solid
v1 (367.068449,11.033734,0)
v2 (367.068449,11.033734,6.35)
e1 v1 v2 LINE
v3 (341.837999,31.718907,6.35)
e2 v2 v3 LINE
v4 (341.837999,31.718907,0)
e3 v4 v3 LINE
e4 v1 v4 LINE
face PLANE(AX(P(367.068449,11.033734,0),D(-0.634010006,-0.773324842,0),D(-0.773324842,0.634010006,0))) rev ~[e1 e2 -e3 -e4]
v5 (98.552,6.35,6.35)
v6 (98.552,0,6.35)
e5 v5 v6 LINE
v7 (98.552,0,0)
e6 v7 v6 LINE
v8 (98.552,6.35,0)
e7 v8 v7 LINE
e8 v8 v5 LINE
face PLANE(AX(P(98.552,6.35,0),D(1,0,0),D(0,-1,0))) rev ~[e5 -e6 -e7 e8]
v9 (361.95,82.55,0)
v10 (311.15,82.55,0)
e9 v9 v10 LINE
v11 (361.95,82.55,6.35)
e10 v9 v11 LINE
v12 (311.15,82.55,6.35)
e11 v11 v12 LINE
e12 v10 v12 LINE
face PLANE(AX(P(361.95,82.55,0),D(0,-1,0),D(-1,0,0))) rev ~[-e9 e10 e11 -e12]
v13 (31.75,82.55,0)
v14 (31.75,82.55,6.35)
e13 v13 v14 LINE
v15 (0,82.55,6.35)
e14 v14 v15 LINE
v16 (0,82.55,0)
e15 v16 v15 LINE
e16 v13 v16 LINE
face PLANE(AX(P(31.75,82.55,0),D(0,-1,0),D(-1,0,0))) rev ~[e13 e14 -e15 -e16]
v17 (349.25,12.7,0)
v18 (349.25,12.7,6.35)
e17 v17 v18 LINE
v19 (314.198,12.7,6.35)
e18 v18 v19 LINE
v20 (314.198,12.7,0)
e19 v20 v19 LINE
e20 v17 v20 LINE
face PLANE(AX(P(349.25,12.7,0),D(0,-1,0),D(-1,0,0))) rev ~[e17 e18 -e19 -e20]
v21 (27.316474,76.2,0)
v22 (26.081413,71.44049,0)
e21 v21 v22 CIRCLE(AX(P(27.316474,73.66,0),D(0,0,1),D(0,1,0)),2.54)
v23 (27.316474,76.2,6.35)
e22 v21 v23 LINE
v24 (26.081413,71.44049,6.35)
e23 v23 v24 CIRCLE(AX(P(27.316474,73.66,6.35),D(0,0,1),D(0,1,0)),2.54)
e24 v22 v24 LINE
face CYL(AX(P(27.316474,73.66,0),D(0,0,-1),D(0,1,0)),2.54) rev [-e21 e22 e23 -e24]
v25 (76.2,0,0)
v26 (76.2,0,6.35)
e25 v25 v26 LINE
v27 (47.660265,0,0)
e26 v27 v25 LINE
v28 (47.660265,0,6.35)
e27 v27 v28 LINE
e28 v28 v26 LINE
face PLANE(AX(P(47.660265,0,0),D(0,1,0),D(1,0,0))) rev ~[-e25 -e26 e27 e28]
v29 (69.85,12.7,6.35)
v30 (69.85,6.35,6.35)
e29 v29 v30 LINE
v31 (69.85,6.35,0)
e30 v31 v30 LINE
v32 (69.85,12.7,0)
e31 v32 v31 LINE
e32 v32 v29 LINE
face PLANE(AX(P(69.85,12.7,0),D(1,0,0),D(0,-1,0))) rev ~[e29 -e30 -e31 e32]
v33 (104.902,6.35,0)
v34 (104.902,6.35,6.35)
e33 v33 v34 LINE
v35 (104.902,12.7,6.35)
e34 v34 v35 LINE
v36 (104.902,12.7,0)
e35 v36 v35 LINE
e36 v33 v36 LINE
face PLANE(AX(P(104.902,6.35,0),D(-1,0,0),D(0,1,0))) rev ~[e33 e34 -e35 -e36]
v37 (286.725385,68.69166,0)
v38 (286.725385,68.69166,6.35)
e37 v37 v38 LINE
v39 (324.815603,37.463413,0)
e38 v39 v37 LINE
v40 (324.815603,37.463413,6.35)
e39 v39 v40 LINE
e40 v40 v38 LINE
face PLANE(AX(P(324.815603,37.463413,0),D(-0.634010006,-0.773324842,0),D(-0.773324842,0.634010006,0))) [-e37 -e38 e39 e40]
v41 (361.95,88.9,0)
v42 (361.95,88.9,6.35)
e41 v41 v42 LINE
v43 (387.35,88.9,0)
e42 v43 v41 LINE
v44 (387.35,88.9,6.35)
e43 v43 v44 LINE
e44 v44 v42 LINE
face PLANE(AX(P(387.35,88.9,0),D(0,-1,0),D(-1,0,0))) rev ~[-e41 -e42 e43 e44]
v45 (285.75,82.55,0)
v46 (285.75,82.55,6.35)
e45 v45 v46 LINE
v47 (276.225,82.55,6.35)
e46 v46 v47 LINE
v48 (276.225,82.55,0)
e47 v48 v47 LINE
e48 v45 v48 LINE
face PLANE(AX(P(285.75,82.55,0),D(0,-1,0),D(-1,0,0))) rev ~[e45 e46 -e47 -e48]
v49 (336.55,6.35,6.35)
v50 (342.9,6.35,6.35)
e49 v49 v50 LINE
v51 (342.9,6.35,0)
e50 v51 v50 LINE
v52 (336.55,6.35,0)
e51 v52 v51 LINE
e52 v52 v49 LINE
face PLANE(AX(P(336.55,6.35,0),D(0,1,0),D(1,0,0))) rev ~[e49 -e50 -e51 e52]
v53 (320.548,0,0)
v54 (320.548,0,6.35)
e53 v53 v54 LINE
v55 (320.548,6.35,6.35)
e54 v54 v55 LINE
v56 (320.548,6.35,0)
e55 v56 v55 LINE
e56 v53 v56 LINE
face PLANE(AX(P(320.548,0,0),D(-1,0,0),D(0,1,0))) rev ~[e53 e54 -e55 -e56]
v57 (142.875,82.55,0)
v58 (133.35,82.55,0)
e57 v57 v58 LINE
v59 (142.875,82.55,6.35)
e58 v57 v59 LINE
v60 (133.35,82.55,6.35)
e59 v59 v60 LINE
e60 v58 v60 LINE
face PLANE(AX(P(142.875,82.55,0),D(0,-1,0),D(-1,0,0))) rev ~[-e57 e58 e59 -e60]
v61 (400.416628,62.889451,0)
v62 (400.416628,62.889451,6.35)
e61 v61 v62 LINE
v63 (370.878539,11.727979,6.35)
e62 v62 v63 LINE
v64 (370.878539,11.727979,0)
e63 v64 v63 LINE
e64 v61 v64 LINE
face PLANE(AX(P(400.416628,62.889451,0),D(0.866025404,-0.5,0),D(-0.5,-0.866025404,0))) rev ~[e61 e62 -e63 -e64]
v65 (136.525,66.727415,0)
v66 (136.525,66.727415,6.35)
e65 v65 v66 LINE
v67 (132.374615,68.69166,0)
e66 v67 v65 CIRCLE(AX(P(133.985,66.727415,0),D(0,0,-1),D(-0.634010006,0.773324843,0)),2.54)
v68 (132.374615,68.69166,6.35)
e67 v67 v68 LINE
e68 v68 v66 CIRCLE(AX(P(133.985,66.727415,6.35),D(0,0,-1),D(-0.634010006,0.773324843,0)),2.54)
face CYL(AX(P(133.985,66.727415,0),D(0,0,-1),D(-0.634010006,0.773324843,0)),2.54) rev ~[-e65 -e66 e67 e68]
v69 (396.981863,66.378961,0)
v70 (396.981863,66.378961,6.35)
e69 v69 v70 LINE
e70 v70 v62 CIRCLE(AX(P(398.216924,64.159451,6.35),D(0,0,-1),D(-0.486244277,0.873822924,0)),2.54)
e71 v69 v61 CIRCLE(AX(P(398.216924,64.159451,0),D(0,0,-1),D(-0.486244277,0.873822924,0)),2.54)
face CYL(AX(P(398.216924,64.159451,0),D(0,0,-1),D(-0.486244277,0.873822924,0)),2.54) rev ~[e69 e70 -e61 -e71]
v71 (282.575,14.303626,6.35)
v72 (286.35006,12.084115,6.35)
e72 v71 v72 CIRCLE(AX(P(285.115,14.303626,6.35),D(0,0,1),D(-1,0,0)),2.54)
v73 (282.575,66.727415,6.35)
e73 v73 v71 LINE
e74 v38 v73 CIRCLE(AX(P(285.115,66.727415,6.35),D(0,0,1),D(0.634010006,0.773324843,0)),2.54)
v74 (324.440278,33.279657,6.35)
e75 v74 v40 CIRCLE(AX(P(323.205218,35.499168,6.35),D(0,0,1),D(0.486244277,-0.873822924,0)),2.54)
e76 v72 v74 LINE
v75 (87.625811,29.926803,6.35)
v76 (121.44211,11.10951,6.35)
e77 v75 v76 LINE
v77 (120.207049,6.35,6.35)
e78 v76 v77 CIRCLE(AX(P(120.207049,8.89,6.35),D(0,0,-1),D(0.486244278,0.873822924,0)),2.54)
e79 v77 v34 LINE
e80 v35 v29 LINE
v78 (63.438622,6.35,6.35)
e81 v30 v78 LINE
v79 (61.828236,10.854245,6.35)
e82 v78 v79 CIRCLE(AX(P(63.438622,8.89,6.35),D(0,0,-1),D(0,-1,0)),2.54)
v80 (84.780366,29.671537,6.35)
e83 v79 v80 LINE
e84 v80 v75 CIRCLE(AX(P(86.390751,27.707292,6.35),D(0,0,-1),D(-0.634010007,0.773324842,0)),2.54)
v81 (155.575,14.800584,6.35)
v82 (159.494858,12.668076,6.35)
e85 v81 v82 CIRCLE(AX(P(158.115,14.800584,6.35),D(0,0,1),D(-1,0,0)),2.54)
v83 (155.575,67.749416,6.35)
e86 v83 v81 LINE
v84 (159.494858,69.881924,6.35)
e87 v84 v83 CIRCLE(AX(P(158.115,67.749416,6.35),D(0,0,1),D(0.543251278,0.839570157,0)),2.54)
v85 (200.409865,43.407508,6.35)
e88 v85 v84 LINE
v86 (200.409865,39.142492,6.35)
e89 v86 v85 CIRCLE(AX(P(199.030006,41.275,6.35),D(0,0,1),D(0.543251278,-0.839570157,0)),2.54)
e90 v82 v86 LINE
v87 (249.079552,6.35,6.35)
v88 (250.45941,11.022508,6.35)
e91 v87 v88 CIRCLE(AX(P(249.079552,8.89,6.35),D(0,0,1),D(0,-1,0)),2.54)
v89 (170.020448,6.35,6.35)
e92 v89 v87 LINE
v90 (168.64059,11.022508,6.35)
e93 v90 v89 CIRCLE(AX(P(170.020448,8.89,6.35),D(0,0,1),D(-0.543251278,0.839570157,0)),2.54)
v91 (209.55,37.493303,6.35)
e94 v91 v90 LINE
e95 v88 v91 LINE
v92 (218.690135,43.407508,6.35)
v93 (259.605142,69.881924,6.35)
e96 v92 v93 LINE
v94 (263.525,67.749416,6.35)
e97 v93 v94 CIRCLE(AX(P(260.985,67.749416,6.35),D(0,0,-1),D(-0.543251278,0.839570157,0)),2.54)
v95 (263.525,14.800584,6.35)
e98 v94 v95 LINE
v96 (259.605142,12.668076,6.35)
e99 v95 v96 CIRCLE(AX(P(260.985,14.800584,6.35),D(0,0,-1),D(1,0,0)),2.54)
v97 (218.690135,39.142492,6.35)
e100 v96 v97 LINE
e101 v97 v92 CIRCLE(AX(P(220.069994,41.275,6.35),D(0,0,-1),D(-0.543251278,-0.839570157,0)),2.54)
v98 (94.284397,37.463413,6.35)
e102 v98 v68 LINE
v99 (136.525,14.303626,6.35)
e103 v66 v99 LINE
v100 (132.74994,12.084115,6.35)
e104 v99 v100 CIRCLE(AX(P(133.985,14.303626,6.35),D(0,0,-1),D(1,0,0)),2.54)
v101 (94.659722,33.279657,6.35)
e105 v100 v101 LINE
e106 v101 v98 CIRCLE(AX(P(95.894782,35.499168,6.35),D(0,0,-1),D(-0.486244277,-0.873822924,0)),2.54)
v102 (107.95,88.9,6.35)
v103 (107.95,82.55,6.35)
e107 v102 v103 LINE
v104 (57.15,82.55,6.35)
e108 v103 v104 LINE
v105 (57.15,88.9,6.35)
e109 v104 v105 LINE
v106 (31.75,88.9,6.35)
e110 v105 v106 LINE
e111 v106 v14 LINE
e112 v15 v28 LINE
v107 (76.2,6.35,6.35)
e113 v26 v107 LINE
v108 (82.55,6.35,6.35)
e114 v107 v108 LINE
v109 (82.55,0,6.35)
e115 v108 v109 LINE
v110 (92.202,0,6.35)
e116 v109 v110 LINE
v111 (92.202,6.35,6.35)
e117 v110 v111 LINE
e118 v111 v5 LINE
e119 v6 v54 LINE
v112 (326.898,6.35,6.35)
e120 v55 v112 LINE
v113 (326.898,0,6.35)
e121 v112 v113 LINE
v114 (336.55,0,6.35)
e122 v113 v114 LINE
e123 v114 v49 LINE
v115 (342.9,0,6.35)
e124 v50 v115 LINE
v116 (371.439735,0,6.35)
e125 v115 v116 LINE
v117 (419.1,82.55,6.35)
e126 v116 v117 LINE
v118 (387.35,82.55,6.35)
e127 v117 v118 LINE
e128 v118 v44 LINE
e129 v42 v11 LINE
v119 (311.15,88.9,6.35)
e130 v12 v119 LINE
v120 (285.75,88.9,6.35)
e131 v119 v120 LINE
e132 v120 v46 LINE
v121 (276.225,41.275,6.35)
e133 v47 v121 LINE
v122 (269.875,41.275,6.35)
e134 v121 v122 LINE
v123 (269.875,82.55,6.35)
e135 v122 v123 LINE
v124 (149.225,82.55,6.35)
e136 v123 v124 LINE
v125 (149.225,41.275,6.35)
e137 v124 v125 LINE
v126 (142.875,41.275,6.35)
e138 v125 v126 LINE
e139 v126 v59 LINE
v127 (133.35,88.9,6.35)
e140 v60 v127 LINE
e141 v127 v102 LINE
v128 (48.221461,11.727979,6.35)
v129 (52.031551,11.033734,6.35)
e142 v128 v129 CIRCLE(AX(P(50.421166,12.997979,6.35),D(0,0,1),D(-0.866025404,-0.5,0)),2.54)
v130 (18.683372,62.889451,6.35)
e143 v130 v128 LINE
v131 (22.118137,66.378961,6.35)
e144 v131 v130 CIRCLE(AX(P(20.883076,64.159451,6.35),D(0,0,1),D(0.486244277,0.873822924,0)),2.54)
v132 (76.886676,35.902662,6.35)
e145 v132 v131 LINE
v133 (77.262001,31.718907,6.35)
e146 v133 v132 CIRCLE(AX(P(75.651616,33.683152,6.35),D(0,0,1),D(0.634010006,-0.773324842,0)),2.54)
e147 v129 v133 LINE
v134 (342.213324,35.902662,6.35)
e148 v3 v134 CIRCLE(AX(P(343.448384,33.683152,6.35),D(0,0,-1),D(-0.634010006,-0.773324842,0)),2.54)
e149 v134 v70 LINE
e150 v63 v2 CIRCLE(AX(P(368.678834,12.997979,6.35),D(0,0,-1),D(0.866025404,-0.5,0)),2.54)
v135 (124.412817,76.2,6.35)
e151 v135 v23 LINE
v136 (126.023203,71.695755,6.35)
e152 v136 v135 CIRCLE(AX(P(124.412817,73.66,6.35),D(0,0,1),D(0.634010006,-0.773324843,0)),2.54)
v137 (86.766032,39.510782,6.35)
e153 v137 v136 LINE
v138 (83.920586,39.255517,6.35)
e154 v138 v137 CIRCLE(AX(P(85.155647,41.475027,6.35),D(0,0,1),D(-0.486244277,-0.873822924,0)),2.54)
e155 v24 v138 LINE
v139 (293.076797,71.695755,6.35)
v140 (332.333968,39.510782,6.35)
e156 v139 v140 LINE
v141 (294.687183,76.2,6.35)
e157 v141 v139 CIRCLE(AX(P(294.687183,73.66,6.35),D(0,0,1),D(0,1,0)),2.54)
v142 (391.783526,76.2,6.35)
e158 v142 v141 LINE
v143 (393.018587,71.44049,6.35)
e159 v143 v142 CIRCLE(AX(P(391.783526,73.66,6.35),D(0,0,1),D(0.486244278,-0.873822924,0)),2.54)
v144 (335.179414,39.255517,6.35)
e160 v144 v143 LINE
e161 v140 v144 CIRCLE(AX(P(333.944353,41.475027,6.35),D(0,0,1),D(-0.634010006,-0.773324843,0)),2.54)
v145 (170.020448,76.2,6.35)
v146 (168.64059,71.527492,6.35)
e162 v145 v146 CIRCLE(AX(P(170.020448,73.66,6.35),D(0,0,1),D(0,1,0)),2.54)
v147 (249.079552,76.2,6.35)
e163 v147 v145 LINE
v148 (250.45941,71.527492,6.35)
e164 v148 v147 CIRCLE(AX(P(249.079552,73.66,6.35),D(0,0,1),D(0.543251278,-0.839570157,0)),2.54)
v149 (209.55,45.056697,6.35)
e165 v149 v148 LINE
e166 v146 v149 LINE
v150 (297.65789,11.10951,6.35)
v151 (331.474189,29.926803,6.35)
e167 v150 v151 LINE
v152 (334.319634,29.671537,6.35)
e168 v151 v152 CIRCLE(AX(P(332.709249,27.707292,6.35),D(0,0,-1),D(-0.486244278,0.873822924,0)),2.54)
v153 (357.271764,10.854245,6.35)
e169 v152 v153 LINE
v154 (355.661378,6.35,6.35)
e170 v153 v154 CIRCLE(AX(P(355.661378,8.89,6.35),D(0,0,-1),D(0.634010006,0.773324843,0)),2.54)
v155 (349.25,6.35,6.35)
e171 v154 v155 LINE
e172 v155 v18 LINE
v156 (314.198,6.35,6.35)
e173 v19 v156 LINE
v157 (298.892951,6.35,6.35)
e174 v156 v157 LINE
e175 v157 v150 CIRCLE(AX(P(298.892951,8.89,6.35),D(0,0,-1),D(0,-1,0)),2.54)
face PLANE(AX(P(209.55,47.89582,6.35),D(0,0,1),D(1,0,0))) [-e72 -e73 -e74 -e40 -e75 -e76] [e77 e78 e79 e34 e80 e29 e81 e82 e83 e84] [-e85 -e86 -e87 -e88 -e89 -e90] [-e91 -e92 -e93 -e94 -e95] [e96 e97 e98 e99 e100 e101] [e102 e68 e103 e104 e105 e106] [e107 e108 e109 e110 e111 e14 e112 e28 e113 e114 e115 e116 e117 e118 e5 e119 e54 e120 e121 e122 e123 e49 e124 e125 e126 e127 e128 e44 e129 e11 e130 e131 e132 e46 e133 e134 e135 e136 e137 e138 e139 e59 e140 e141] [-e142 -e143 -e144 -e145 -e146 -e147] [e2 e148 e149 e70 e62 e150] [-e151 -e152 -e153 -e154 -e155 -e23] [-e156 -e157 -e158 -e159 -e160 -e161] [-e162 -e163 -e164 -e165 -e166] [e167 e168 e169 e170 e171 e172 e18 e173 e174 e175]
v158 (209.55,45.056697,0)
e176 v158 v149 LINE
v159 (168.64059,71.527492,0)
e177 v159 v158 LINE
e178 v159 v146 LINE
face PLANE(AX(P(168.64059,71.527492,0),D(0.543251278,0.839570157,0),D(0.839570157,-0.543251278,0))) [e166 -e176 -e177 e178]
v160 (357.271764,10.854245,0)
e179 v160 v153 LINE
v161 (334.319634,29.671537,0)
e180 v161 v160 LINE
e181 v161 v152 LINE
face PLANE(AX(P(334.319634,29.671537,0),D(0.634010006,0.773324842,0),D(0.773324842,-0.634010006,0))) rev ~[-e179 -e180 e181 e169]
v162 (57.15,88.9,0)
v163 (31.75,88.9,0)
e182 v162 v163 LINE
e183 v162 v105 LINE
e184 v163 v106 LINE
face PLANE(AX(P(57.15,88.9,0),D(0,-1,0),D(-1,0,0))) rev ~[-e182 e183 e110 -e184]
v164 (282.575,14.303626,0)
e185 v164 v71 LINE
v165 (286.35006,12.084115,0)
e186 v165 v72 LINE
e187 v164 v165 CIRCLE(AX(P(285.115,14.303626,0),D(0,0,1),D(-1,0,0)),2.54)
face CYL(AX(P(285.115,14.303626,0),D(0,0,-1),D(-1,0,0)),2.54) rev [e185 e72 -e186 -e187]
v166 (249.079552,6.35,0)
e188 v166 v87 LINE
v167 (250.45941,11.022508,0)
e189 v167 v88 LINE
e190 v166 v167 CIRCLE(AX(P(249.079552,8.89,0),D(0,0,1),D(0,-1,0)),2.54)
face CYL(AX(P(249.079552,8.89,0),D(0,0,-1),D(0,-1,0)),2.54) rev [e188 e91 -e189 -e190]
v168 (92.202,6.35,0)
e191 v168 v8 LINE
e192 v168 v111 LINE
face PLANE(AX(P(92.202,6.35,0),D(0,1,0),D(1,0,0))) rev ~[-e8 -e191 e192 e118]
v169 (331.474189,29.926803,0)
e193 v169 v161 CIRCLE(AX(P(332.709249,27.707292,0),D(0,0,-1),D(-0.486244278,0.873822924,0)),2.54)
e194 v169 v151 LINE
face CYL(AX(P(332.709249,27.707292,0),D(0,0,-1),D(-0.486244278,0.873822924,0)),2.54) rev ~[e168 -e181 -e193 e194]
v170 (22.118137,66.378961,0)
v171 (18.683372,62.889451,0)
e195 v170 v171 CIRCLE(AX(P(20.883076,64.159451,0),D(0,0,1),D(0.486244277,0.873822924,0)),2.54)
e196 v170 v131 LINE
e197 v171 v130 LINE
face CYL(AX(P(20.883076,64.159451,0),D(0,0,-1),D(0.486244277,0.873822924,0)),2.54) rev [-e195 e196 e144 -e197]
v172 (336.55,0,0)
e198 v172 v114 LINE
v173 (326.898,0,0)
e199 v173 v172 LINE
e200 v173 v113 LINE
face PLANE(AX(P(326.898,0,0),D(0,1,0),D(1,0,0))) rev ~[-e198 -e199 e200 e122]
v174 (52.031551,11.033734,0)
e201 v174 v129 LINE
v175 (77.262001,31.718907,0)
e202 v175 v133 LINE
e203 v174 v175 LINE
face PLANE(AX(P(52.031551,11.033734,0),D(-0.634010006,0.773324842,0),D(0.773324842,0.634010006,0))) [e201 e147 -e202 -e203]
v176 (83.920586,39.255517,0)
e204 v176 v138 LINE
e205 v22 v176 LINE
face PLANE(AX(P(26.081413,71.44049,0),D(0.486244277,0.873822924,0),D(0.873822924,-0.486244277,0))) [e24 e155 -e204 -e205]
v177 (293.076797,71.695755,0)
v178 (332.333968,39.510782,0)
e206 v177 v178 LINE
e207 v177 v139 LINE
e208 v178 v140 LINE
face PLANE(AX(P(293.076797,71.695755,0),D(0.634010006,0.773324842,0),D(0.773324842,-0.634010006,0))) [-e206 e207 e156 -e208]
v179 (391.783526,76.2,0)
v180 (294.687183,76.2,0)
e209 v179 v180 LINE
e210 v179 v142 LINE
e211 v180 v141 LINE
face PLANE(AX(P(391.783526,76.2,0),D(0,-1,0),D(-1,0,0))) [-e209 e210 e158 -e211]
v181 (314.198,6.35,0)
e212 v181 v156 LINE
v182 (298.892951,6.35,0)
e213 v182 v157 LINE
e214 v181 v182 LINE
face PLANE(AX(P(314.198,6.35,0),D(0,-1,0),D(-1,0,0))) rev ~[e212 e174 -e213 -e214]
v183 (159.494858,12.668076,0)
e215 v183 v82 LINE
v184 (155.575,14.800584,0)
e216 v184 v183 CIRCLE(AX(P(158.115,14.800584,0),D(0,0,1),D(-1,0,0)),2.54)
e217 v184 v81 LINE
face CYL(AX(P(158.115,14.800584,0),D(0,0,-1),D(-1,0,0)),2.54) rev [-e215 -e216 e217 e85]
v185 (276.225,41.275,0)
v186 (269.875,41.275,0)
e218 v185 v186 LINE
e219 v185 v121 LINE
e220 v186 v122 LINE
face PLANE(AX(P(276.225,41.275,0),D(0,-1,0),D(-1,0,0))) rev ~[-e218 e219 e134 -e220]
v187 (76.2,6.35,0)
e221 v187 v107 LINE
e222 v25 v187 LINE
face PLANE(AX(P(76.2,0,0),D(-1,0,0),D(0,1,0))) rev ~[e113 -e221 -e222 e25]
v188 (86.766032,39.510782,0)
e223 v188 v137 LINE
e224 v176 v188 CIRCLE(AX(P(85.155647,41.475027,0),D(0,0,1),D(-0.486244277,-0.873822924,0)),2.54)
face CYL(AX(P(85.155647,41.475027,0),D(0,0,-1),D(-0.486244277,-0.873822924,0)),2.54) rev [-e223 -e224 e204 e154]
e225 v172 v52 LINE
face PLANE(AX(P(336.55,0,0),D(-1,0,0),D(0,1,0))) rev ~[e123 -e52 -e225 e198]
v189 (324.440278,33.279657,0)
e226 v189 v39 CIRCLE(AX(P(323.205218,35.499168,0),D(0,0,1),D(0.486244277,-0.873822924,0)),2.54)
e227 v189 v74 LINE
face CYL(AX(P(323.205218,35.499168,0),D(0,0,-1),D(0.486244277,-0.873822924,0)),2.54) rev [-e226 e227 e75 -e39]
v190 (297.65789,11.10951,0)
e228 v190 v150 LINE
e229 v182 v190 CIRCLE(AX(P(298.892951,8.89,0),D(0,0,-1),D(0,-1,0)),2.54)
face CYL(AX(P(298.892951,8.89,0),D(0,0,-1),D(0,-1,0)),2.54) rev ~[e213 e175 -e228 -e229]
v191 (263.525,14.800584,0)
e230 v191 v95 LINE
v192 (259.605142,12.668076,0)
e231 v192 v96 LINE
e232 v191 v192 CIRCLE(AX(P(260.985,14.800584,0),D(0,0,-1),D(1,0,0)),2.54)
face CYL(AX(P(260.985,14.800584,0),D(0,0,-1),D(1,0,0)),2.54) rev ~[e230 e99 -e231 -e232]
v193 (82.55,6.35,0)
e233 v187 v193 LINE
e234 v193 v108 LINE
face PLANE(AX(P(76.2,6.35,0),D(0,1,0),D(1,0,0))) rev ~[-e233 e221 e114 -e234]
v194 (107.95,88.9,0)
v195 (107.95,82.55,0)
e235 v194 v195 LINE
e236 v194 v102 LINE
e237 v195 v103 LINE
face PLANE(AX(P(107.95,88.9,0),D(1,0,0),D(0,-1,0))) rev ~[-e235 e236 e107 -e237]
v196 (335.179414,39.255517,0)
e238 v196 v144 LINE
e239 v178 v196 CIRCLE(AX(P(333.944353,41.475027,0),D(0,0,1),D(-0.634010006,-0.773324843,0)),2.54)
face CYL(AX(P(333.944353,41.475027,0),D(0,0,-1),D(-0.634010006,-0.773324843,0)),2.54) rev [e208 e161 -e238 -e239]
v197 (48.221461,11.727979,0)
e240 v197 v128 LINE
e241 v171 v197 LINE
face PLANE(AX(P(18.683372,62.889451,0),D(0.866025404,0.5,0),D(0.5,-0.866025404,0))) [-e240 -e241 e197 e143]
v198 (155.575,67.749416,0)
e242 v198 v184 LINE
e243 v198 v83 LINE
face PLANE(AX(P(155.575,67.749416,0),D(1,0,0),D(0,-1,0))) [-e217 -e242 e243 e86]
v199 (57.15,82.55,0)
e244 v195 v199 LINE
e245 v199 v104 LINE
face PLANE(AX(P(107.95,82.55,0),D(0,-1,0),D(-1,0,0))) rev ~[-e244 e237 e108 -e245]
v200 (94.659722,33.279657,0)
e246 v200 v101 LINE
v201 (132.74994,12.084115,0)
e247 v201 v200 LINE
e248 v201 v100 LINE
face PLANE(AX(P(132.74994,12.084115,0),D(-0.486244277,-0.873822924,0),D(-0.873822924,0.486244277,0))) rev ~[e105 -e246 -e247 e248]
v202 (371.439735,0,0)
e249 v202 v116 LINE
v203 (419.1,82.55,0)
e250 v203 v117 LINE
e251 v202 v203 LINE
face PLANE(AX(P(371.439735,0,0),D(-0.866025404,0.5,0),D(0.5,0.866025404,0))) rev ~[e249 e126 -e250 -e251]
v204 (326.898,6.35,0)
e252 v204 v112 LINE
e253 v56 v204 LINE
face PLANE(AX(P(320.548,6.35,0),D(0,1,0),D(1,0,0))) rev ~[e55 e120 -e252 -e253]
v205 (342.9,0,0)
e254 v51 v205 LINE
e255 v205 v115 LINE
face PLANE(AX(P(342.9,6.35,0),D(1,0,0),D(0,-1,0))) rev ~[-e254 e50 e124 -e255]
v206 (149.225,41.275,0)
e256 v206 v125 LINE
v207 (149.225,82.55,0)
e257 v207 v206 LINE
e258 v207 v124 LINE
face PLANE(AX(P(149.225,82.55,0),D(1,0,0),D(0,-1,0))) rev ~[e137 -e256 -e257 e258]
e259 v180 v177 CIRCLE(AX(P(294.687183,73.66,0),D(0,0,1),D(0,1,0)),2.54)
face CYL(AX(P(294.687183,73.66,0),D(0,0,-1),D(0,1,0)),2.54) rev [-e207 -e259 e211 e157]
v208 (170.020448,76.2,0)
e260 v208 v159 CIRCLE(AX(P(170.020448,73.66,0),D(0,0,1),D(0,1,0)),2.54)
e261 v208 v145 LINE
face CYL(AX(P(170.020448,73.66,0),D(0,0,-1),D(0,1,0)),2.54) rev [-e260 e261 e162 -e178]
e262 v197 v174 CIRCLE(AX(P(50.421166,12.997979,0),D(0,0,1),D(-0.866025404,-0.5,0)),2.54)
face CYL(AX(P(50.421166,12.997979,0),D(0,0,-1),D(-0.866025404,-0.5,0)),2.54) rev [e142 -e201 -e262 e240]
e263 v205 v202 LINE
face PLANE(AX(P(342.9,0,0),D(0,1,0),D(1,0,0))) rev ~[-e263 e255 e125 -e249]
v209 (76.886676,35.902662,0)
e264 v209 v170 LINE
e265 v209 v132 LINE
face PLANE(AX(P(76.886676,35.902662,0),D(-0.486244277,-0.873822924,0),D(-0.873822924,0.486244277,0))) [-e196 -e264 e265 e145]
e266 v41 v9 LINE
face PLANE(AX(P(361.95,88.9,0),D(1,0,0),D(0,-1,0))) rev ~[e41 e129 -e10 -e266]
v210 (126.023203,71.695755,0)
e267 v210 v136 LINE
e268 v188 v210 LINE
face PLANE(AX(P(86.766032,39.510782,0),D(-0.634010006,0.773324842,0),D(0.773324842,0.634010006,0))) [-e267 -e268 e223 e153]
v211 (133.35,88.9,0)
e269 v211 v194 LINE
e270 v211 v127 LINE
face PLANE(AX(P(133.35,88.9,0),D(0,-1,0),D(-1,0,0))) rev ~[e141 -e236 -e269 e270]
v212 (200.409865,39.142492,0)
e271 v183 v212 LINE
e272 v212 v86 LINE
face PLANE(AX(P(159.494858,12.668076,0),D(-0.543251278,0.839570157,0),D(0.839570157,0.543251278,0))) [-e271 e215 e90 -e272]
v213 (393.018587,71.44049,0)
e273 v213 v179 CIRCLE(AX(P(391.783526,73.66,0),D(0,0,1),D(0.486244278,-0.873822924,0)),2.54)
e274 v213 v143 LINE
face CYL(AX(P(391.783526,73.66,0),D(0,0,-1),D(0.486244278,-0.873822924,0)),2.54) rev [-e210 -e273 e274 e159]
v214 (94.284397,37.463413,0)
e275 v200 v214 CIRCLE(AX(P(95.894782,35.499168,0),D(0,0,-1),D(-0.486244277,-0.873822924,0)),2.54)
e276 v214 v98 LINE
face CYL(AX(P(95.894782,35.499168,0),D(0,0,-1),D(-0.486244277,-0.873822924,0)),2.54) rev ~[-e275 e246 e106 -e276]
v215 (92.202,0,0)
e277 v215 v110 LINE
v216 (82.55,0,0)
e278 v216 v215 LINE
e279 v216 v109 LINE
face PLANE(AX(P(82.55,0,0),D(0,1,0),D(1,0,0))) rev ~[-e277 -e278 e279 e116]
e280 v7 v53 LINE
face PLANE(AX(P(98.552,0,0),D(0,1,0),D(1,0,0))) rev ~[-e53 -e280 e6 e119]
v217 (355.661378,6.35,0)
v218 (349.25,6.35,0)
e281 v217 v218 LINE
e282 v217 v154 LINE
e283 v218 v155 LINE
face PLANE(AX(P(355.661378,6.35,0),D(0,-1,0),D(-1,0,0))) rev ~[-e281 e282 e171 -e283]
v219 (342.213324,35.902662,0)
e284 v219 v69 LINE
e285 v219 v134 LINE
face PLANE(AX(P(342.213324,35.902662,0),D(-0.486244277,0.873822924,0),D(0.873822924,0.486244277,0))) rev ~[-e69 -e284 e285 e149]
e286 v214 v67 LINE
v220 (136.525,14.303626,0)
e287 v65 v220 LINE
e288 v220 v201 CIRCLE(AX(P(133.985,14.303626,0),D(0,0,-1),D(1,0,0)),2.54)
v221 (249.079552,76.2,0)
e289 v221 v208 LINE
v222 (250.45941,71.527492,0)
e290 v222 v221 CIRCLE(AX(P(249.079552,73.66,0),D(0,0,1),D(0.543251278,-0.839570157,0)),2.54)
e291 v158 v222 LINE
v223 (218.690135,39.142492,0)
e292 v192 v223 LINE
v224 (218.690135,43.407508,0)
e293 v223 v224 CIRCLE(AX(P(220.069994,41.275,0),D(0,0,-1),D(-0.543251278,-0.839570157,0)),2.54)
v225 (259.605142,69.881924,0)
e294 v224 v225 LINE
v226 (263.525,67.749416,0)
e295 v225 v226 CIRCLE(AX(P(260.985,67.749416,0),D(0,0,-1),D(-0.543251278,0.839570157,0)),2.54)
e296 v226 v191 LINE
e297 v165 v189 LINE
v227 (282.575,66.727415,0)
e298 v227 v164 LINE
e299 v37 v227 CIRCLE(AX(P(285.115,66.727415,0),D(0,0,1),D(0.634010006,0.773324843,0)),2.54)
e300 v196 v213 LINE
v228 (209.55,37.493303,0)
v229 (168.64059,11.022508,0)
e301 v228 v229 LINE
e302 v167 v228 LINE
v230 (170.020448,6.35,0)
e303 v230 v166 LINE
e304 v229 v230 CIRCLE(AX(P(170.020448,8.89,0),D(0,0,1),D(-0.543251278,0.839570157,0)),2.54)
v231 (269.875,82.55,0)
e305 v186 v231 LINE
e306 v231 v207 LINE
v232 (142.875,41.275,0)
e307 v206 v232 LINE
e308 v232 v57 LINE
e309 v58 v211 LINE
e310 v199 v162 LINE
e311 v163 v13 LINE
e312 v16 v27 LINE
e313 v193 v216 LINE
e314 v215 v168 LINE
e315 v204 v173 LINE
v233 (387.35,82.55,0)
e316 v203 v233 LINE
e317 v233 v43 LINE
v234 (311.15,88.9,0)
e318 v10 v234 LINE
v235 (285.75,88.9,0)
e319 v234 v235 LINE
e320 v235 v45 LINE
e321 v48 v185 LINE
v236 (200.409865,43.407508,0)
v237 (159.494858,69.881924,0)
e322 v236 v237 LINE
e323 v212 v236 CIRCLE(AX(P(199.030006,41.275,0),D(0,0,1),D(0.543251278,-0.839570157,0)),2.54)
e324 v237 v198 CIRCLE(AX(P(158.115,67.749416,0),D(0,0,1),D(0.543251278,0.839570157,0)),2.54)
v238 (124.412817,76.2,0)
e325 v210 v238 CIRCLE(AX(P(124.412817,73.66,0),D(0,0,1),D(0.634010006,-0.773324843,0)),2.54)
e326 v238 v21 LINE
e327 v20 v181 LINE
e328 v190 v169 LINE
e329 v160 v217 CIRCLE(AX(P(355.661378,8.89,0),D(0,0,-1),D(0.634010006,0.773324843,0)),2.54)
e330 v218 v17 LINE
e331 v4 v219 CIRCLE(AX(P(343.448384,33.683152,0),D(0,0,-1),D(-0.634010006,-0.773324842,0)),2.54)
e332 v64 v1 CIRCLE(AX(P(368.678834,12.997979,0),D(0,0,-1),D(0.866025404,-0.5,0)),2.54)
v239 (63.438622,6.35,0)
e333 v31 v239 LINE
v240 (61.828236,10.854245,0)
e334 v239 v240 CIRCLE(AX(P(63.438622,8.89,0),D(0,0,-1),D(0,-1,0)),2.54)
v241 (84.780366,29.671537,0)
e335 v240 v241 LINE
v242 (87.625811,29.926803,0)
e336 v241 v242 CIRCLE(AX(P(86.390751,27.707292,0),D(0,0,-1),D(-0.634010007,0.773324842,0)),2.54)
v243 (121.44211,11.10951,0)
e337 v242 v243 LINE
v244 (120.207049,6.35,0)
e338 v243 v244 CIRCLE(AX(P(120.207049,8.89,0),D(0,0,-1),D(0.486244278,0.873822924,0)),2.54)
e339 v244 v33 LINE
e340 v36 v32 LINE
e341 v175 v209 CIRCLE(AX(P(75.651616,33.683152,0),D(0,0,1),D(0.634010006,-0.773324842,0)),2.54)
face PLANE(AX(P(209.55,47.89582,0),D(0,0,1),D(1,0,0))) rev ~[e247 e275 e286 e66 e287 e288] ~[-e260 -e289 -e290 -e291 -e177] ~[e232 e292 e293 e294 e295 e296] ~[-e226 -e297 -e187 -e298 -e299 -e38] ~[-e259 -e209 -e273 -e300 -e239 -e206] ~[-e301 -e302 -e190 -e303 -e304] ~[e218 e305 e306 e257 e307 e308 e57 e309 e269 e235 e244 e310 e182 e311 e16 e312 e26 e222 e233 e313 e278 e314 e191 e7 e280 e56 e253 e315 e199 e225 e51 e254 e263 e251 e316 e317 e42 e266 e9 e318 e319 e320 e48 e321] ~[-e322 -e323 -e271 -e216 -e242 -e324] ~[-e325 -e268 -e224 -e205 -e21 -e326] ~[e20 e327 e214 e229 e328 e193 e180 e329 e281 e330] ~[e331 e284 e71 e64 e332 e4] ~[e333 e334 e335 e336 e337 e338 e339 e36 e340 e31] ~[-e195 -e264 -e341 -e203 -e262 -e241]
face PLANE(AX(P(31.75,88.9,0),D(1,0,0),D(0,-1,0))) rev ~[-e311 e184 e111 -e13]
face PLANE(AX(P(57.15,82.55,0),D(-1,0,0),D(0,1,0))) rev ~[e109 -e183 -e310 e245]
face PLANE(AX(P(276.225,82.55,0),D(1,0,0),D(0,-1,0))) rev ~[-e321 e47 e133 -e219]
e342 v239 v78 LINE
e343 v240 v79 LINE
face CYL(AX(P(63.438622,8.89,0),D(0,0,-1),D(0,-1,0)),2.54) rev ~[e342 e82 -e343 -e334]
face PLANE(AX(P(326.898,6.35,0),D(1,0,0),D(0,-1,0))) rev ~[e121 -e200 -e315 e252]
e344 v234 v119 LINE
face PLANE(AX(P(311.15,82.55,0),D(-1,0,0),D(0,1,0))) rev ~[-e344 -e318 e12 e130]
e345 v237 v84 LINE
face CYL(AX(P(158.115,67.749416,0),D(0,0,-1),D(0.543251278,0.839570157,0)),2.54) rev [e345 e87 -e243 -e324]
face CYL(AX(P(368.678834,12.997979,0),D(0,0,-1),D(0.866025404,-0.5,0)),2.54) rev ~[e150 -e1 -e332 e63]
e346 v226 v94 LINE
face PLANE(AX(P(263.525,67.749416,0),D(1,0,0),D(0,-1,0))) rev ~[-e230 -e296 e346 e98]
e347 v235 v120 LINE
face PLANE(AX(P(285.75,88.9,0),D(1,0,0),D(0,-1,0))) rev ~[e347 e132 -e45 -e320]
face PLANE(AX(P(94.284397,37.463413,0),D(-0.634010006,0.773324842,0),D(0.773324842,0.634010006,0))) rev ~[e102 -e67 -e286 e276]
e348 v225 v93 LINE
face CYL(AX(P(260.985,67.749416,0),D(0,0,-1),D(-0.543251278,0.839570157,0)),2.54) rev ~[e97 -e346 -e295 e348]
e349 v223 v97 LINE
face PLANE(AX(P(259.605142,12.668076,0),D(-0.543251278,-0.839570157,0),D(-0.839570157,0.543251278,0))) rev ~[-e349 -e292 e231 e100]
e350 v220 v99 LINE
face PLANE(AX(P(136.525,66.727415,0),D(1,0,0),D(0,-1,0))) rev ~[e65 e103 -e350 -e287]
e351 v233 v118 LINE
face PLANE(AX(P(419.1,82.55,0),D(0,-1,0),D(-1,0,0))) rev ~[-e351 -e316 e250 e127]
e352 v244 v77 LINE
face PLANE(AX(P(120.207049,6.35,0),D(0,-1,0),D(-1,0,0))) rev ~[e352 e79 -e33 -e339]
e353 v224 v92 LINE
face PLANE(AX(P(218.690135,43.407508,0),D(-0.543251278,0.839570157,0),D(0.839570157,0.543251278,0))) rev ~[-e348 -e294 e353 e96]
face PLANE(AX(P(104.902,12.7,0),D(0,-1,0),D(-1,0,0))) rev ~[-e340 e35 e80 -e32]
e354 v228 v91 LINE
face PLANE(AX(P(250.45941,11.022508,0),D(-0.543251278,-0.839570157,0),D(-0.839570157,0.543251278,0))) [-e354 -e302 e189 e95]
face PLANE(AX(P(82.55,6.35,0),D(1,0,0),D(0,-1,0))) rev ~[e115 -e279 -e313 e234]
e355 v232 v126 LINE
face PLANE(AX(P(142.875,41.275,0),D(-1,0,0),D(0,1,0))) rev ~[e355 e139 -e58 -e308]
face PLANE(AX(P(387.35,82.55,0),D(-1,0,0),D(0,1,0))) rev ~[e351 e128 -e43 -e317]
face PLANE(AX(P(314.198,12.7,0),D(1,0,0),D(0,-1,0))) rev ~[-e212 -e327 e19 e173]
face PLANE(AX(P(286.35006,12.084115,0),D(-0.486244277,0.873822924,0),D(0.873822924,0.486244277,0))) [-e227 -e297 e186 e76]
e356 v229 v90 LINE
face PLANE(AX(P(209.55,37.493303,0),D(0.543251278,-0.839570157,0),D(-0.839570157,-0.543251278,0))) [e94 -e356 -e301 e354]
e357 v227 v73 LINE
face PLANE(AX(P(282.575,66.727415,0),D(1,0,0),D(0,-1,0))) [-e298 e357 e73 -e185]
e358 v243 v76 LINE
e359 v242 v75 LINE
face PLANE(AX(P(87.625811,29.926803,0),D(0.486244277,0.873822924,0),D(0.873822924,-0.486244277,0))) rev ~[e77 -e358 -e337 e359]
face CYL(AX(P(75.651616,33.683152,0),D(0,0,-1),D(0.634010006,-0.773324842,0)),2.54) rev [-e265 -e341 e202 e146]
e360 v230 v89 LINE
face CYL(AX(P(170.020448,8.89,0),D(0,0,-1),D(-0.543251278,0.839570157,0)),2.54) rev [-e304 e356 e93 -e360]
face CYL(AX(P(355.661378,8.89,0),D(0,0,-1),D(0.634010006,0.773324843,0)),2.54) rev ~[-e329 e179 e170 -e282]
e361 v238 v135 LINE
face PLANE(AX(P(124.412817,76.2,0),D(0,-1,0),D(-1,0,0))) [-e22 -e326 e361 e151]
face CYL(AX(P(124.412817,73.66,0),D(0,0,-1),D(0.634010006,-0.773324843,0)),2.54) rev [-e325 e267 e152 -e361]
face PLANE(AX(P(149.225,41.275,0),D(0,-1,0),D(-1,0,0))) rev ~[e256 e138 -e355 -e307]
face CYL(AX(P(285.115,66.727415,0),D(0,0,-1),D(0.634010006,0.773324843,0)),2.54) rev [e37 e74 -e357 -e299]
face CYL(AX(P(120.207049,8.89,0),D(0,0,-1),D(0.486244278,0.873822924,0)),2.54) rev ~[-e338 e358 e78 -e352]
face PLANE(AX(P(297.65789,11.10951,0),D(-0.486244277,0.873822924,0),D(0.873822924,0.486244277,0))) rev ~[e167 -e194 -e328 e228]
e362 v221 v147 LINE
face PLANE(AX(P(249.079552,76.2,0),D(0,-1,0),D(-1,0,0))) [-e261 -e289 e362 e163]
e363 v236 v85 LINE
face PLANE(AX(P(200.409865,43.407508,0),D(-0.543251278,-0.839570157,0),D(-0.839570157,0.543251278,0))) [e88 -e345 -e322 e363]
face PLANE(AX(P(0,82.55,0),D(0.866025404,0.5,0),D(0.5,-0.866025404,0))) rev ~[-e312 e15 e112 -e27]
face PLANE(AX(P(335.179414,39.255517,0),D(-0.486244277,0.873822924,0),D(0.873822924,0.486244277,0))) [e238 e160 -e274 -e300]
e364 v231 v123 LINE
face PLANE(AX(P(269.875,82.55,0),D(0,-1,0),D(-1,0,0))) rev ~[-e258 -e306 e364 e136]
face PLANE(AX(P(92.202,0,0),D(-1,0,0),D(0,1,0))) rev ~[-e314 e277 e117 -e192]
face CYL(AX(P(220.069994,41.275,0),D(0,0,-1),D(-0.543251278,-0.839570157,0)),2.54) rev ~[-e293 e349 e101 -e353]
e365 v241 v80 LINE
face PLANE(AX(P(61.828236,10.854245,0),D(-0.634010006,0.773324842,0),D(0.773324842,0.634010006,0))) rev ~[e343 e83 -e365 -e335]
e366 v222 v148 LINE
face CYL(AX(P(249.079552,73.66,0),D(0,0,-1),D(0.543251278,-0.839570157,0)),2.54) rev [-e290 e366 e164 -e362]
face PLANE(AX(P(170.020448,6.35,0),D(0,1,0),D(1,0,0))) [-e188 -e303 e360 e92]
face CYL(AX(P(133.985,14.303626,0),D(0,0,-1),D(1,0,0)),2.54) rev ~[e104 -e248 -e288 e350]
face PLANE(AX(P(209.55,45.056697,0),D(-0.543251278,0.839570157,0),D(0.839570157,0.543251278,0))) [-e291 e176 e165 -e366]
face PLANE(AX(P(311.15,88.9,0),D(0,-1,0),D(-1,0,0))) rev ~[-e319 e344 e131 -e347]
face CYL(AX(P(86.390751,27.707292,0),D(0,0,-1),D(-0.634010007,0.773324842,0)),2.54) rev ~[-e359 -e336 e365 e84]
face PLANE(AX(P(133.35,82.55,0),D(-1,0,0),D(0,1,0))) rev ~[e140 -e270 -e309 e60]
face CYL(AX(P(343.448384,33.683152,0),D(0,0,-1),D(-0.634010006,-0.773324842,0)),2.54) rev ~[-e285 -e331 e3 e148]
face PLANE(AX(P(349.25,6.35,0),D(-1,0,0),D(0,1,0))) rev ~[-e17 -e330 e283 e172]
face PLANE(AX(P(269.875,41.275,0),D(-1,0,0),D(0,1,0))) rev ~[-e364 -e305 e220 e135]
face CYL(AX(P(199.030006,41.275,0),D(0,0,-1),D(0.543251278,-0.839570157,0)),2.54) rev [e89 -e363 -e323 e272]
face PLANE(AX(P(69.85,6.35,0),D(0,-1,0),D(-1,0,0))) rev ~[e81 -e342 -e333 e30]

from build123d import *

# Parameters (mm, degrees)
EXTRUDE2_DEPTH = 6.35


with BuildPart() as part:
    # Sketch1 → Extrude2 (new body)
    with BuildSketch(Plane.XY):
        Polygon((47.660264722, 0), (76.2, 0), (76.2, 6.35), (82.55, 6.35), (82.55, 0), (92.202, 0), (92.202, 6.35), (98.552, 6.35), (98.552, 0), (320.548, 0), (320.548, 6.35), (326.898, 6.35), (326.898, 0), (336.55, 0), (336.55, 6.35), (342.9, 6.35), (342.9, 0), (371.439735278, 0), (419.1, 82.55), (387.35, 82.55), (387.35, 88.9), (361.95, 88.9), (361.95, 82.55), (311.15, 82.55), (311.15, 88.9), (285.75, 88.9), (285.75, 82.55), (276.225, 82.55), (276.225, 41.275), (269.875, 41.275), (269.875, 82.55), (149.225, 82.55), (149.225, 41.275), (142.875, 41.275), (142.875, 82.55), (133.35, 82.55), (133.35, 88.9), (107.95, 88.9), (107.95, 82.55), (57.15, 82.55), (57.15, 88.9), (31.75, 88.9), (31.75, 82.55), (0, 82.55), align=None)
        with BuildLine():
            Line((155.575, 67.749415869), (155.575, 14.800584131))
            ThreePointArc((155.575, 14.800584131), (156.901171335, 12.56939163), (159.494858247, 12.668075931))
            Line((159.494858247, 12.668075931), (200.40986459, 39.142491801))
            ThreePointArc((200.40986459, 39.142491801), (201.570006344, 41.275), (200.40986459, 43.407508199))
            Line((200.40986459, 43.407508199), (159.494858247, 69.881924069))
            ThreePointArc((159.494858247, 69.881924069), (156.901171335, 69.98060837), (155.575, 67.749415869))
        make_face(mode=Mode.SUBTRACT)
        with BuildLine():
            Line((170.020448202, 6.35), (249.079551798, 6.35))
            ThreePointArc((249.079551798, 6.35), (251.515549625, 8.170615133), (250.459410045, 11.022508199))
            Line((250.459410045, 11.022508199), (209.55, 37.493302934))
            Line((209.55, 37.493302934), (168.640589955, 11.022508199))
            ThreePointArc((168.640589955, 11.022508199), (167.584450375, 8.170615133), (170.020448202, 6.35))
        make_face(mode=Mode.SUBTRACT)
        with BuildLine():
            Line((52.031551003, 11.033734326), (77.262001053, 31.718906867))
            ThreePointArc((77.262001053, 31.718906867), (78.181456091, 33.910104112), (76.886676101, 35.902662194))
            Line((76.886676101, 35.902662194), (22.118136541, 66.378961445))
            ThreePointArc((22.118136541, 66.378961445), (19.07288135, 65.941246674), (18.683371551, 62.889451217))
            Line((18.683371551, 62.889451217), (48.221461062, 11.727979426))
            ThreePointArc((48.221461062, 11.727979426), (49.965843374, 10.499123351), (52.031551003, 11.033734326))
        make_face(mode=Mode.SUBTRACT)
        with BuildLine():
            Line((61.828236325, 10.8542451), (84.780365617, 29.671537445))
            ThreePointArc((84.780365617, 29.671537445), (86.163798888, 30.2371328), (87.625811497, 29.926802573))
            Line((87.625811497, 29.926802573), (121.442109591, 11.109510228))
            ThreePointArc((121.442109591, 11.109510228), (122.665621474, 8.252017233), (120.207049127, 6.35))
            Line((120.207049127, 6.35), (104.902, 6.35))
            Line((104.902, 6.35), (104.902, 12.7))
            Line((104.902, 12.7), (69.85, 12.7))
            Line((69.85, 12.7), (69.85, 6.35))
            Line((69.85, 6.35), (63.438621741, 6.35))
            ThreePointArc((63.438621741, 6.35), (61.046887793, 8.034892566), (61.828236325, 10.8542451))
        make_face(mode=Mode.SUBTRACT)
        with BuildLine():
            Line((26.081413037, 71.440489772), (83.920586204, 39.255517086))
            ThreePointArc((83.920586204, 39.255517086), (85.382598814, 38.945186859), (86.766032084, 39.510782213))
            Line((86.766032084, 39.510782213), (126.023202606, 71.6957549))
            ThreePointArc((126.023202606, 71.6957549), (126.804551138, 74.515107434), (124.41281719, 76.2))
            Line((124.41281719, 76.2), (27.316473501, 76.2))
            ThreePointArc((27.316473501, 76.2), (24.857901154, 74.297982767), (26.081413037, 71.440489772))
        make_face(mode=Mode.SUBTRACT)
        with BuildLine():
            Line((94.284396649, 37.463412792), (132.374614584, 68.691659953))
            ThreePointArc((132.374614584, 68.691659953), (135.071559028, 69.023278411), (136.525, 66.727414853))
            Line((136.525, 66.727414853), (136.525, 14.303625696))
            ThreePointArc((136.525, 14.303625696), (135.272351238, 12.114030576), (132.749939536, 12.084115469))
            Line((132.749939536, 12.084115469), (94.659721601, 33.279657465))
            ThreePointArc((94.659721601, 33.279657465), (93.364941611, 35.272215547), (94.284396649, 37.463412792))
        make_face(mode=Mode.SUBTRACT)
        with BuildLine():
            Line((168.640589955, 71.527491801), (209.55, 45.056697066))
            Line((209.55, 45.056697066), (250.459410045, 71.527491801))
            ThreePointArc((250.459410045, 71.527491801), (251.515549625, 74.379384867), (249.079551798, 76.2))
            Line((249.079551798, 76.2), (170.020448202, 76.2))
            ThreePointArc((170.020448202, 76.2), (167.584450375, 74.379384867), (168.640589955, 71.527491801))
        make_face(mode=Mode.SUBTRACT)
        with BuildLine():
            Line((282.575, 66.727414853), (282.575, 14.303625696))
            ThreePointArc((282.575, 14.303625696), (283.827648762, 12.114030576), (286.350060464, 12.084115469))
            Line((286.350060464, 12.084115469), (324.440278399, 33.279657465))
            ThreePointArc((324.440278399, 33.279657465), (325.735058389, 35.272215547), (324.815603351, 37.463412792))
            Line((324.815603351, 37.463412792), (286.725385416, 68.691659953))
            ThreePointArc((286.725385416, 68.691659953), (284.028440972, 69.023278411), (282.575, 66.727414853))
        make_face(mode=Mode.SUBTRACT)
        with BuildLine():
            Line((391.783526499, 76.2), (294.68718281, 76.2))
            ThreePointArc((294.68718281, 76.2), (292.295448862, 74.515107434), (293.076797394, 71.6957549))
            Line((293.076797394, 71.6957549), (332.333967916, 39.510782213))
            ThreePointArc((332.333967916, 39.510782213), (333.717401186, 38.945186859), (335.179413796, 39.255517086))
            Line((335.179413796, 39.255517086), (393.018586963, 71.440489772))
            ThreePointArc((393.018586963, 71.440489772), (394.242098846, 74.297982767), (391.783526499, 76.2))
        make_face(mode=Mode.SUBTRACT)
        with BuildLine():
            Line((314.198, 12.7), (314.198, 6.35))
            Line((314.198, 6.35), (298.892950873, 6.35))
            ThreePointArc((298.892950873, 6.35), (296.434378526, 8.252017233), (297.657890409, 11.109510228))
            Line((297.657890409, 11.109510228), (331.474188503, 29.926802573))
            ThreePointArc((331.474188503, 29.926802573), (332.936201112, 30.2371328), (334.319634383, 29.671537445))
            Line((334.319634383, 29.671537445), (357.271763675, 10.8542451))
            ThreePointArc((357.271763675, 10.8542451), (358.053112207, 8.034892566), (355.661378259, 6.35))
            Line((355.661378259, 6.35), (349.25, 6.35))
            Line((349.25, 6.35), (349.25, 12.7))
            Line((349.25, 12.7), (314.198, 12.7))
        make_face(mode=Mode.SUBTRACT)
        with BuildLine():
            Line((400.416628449, 62.889451217), (370.878538938, 11.727979426))
            ThreePointArc((370.878538938, 11.727979426), (369.134156626, 10.499123351), (367.068448997, 11.033734326))
            Line((367.068448997, 11.033734326), (341.837998947, 31.718906867))
            ThreePointArc((341.837998947, 31.718906867), (340.918543909, 33.910104112), (342.213323899, 35.902662194))
            Line((342.213323899, 35.902662194), (396.981863459, 66.378961445))
            ThreePointArc((396.981863459, 66.378961445), (400.02711865, 65.941246674), (400.416628449, 62.889451217))
        make_face(mode=Mode.SUBTRACT)
        with BuildLine():
            Line((259.605141753, 12.668075931), (218.69013541, 39.142491801))
            ThreePointArc((218.69013541, 39.142491801), (217.529993656, 41.275), (218.69013541, 43.407508199))
            Line((218.69013541, 43.407508199), (259.605141753, 69.881924069))
            ThreePointArc((259.605141753, 69.881924069), (262.198828665, 69.98060837), (263.525, 67.749415869))
            Line((263.525, 67.749415869), (263.525, 14.800584131))
            ThreePointArc((263.525, 14.800584131), (262.198828665, 12.56939163), (259.605141753, 12.668075931))
        make_face(mode=Mode.SUBTRACT)
    extrude(amount=EXTRUDE2_DEPTH)


solid = part.part
